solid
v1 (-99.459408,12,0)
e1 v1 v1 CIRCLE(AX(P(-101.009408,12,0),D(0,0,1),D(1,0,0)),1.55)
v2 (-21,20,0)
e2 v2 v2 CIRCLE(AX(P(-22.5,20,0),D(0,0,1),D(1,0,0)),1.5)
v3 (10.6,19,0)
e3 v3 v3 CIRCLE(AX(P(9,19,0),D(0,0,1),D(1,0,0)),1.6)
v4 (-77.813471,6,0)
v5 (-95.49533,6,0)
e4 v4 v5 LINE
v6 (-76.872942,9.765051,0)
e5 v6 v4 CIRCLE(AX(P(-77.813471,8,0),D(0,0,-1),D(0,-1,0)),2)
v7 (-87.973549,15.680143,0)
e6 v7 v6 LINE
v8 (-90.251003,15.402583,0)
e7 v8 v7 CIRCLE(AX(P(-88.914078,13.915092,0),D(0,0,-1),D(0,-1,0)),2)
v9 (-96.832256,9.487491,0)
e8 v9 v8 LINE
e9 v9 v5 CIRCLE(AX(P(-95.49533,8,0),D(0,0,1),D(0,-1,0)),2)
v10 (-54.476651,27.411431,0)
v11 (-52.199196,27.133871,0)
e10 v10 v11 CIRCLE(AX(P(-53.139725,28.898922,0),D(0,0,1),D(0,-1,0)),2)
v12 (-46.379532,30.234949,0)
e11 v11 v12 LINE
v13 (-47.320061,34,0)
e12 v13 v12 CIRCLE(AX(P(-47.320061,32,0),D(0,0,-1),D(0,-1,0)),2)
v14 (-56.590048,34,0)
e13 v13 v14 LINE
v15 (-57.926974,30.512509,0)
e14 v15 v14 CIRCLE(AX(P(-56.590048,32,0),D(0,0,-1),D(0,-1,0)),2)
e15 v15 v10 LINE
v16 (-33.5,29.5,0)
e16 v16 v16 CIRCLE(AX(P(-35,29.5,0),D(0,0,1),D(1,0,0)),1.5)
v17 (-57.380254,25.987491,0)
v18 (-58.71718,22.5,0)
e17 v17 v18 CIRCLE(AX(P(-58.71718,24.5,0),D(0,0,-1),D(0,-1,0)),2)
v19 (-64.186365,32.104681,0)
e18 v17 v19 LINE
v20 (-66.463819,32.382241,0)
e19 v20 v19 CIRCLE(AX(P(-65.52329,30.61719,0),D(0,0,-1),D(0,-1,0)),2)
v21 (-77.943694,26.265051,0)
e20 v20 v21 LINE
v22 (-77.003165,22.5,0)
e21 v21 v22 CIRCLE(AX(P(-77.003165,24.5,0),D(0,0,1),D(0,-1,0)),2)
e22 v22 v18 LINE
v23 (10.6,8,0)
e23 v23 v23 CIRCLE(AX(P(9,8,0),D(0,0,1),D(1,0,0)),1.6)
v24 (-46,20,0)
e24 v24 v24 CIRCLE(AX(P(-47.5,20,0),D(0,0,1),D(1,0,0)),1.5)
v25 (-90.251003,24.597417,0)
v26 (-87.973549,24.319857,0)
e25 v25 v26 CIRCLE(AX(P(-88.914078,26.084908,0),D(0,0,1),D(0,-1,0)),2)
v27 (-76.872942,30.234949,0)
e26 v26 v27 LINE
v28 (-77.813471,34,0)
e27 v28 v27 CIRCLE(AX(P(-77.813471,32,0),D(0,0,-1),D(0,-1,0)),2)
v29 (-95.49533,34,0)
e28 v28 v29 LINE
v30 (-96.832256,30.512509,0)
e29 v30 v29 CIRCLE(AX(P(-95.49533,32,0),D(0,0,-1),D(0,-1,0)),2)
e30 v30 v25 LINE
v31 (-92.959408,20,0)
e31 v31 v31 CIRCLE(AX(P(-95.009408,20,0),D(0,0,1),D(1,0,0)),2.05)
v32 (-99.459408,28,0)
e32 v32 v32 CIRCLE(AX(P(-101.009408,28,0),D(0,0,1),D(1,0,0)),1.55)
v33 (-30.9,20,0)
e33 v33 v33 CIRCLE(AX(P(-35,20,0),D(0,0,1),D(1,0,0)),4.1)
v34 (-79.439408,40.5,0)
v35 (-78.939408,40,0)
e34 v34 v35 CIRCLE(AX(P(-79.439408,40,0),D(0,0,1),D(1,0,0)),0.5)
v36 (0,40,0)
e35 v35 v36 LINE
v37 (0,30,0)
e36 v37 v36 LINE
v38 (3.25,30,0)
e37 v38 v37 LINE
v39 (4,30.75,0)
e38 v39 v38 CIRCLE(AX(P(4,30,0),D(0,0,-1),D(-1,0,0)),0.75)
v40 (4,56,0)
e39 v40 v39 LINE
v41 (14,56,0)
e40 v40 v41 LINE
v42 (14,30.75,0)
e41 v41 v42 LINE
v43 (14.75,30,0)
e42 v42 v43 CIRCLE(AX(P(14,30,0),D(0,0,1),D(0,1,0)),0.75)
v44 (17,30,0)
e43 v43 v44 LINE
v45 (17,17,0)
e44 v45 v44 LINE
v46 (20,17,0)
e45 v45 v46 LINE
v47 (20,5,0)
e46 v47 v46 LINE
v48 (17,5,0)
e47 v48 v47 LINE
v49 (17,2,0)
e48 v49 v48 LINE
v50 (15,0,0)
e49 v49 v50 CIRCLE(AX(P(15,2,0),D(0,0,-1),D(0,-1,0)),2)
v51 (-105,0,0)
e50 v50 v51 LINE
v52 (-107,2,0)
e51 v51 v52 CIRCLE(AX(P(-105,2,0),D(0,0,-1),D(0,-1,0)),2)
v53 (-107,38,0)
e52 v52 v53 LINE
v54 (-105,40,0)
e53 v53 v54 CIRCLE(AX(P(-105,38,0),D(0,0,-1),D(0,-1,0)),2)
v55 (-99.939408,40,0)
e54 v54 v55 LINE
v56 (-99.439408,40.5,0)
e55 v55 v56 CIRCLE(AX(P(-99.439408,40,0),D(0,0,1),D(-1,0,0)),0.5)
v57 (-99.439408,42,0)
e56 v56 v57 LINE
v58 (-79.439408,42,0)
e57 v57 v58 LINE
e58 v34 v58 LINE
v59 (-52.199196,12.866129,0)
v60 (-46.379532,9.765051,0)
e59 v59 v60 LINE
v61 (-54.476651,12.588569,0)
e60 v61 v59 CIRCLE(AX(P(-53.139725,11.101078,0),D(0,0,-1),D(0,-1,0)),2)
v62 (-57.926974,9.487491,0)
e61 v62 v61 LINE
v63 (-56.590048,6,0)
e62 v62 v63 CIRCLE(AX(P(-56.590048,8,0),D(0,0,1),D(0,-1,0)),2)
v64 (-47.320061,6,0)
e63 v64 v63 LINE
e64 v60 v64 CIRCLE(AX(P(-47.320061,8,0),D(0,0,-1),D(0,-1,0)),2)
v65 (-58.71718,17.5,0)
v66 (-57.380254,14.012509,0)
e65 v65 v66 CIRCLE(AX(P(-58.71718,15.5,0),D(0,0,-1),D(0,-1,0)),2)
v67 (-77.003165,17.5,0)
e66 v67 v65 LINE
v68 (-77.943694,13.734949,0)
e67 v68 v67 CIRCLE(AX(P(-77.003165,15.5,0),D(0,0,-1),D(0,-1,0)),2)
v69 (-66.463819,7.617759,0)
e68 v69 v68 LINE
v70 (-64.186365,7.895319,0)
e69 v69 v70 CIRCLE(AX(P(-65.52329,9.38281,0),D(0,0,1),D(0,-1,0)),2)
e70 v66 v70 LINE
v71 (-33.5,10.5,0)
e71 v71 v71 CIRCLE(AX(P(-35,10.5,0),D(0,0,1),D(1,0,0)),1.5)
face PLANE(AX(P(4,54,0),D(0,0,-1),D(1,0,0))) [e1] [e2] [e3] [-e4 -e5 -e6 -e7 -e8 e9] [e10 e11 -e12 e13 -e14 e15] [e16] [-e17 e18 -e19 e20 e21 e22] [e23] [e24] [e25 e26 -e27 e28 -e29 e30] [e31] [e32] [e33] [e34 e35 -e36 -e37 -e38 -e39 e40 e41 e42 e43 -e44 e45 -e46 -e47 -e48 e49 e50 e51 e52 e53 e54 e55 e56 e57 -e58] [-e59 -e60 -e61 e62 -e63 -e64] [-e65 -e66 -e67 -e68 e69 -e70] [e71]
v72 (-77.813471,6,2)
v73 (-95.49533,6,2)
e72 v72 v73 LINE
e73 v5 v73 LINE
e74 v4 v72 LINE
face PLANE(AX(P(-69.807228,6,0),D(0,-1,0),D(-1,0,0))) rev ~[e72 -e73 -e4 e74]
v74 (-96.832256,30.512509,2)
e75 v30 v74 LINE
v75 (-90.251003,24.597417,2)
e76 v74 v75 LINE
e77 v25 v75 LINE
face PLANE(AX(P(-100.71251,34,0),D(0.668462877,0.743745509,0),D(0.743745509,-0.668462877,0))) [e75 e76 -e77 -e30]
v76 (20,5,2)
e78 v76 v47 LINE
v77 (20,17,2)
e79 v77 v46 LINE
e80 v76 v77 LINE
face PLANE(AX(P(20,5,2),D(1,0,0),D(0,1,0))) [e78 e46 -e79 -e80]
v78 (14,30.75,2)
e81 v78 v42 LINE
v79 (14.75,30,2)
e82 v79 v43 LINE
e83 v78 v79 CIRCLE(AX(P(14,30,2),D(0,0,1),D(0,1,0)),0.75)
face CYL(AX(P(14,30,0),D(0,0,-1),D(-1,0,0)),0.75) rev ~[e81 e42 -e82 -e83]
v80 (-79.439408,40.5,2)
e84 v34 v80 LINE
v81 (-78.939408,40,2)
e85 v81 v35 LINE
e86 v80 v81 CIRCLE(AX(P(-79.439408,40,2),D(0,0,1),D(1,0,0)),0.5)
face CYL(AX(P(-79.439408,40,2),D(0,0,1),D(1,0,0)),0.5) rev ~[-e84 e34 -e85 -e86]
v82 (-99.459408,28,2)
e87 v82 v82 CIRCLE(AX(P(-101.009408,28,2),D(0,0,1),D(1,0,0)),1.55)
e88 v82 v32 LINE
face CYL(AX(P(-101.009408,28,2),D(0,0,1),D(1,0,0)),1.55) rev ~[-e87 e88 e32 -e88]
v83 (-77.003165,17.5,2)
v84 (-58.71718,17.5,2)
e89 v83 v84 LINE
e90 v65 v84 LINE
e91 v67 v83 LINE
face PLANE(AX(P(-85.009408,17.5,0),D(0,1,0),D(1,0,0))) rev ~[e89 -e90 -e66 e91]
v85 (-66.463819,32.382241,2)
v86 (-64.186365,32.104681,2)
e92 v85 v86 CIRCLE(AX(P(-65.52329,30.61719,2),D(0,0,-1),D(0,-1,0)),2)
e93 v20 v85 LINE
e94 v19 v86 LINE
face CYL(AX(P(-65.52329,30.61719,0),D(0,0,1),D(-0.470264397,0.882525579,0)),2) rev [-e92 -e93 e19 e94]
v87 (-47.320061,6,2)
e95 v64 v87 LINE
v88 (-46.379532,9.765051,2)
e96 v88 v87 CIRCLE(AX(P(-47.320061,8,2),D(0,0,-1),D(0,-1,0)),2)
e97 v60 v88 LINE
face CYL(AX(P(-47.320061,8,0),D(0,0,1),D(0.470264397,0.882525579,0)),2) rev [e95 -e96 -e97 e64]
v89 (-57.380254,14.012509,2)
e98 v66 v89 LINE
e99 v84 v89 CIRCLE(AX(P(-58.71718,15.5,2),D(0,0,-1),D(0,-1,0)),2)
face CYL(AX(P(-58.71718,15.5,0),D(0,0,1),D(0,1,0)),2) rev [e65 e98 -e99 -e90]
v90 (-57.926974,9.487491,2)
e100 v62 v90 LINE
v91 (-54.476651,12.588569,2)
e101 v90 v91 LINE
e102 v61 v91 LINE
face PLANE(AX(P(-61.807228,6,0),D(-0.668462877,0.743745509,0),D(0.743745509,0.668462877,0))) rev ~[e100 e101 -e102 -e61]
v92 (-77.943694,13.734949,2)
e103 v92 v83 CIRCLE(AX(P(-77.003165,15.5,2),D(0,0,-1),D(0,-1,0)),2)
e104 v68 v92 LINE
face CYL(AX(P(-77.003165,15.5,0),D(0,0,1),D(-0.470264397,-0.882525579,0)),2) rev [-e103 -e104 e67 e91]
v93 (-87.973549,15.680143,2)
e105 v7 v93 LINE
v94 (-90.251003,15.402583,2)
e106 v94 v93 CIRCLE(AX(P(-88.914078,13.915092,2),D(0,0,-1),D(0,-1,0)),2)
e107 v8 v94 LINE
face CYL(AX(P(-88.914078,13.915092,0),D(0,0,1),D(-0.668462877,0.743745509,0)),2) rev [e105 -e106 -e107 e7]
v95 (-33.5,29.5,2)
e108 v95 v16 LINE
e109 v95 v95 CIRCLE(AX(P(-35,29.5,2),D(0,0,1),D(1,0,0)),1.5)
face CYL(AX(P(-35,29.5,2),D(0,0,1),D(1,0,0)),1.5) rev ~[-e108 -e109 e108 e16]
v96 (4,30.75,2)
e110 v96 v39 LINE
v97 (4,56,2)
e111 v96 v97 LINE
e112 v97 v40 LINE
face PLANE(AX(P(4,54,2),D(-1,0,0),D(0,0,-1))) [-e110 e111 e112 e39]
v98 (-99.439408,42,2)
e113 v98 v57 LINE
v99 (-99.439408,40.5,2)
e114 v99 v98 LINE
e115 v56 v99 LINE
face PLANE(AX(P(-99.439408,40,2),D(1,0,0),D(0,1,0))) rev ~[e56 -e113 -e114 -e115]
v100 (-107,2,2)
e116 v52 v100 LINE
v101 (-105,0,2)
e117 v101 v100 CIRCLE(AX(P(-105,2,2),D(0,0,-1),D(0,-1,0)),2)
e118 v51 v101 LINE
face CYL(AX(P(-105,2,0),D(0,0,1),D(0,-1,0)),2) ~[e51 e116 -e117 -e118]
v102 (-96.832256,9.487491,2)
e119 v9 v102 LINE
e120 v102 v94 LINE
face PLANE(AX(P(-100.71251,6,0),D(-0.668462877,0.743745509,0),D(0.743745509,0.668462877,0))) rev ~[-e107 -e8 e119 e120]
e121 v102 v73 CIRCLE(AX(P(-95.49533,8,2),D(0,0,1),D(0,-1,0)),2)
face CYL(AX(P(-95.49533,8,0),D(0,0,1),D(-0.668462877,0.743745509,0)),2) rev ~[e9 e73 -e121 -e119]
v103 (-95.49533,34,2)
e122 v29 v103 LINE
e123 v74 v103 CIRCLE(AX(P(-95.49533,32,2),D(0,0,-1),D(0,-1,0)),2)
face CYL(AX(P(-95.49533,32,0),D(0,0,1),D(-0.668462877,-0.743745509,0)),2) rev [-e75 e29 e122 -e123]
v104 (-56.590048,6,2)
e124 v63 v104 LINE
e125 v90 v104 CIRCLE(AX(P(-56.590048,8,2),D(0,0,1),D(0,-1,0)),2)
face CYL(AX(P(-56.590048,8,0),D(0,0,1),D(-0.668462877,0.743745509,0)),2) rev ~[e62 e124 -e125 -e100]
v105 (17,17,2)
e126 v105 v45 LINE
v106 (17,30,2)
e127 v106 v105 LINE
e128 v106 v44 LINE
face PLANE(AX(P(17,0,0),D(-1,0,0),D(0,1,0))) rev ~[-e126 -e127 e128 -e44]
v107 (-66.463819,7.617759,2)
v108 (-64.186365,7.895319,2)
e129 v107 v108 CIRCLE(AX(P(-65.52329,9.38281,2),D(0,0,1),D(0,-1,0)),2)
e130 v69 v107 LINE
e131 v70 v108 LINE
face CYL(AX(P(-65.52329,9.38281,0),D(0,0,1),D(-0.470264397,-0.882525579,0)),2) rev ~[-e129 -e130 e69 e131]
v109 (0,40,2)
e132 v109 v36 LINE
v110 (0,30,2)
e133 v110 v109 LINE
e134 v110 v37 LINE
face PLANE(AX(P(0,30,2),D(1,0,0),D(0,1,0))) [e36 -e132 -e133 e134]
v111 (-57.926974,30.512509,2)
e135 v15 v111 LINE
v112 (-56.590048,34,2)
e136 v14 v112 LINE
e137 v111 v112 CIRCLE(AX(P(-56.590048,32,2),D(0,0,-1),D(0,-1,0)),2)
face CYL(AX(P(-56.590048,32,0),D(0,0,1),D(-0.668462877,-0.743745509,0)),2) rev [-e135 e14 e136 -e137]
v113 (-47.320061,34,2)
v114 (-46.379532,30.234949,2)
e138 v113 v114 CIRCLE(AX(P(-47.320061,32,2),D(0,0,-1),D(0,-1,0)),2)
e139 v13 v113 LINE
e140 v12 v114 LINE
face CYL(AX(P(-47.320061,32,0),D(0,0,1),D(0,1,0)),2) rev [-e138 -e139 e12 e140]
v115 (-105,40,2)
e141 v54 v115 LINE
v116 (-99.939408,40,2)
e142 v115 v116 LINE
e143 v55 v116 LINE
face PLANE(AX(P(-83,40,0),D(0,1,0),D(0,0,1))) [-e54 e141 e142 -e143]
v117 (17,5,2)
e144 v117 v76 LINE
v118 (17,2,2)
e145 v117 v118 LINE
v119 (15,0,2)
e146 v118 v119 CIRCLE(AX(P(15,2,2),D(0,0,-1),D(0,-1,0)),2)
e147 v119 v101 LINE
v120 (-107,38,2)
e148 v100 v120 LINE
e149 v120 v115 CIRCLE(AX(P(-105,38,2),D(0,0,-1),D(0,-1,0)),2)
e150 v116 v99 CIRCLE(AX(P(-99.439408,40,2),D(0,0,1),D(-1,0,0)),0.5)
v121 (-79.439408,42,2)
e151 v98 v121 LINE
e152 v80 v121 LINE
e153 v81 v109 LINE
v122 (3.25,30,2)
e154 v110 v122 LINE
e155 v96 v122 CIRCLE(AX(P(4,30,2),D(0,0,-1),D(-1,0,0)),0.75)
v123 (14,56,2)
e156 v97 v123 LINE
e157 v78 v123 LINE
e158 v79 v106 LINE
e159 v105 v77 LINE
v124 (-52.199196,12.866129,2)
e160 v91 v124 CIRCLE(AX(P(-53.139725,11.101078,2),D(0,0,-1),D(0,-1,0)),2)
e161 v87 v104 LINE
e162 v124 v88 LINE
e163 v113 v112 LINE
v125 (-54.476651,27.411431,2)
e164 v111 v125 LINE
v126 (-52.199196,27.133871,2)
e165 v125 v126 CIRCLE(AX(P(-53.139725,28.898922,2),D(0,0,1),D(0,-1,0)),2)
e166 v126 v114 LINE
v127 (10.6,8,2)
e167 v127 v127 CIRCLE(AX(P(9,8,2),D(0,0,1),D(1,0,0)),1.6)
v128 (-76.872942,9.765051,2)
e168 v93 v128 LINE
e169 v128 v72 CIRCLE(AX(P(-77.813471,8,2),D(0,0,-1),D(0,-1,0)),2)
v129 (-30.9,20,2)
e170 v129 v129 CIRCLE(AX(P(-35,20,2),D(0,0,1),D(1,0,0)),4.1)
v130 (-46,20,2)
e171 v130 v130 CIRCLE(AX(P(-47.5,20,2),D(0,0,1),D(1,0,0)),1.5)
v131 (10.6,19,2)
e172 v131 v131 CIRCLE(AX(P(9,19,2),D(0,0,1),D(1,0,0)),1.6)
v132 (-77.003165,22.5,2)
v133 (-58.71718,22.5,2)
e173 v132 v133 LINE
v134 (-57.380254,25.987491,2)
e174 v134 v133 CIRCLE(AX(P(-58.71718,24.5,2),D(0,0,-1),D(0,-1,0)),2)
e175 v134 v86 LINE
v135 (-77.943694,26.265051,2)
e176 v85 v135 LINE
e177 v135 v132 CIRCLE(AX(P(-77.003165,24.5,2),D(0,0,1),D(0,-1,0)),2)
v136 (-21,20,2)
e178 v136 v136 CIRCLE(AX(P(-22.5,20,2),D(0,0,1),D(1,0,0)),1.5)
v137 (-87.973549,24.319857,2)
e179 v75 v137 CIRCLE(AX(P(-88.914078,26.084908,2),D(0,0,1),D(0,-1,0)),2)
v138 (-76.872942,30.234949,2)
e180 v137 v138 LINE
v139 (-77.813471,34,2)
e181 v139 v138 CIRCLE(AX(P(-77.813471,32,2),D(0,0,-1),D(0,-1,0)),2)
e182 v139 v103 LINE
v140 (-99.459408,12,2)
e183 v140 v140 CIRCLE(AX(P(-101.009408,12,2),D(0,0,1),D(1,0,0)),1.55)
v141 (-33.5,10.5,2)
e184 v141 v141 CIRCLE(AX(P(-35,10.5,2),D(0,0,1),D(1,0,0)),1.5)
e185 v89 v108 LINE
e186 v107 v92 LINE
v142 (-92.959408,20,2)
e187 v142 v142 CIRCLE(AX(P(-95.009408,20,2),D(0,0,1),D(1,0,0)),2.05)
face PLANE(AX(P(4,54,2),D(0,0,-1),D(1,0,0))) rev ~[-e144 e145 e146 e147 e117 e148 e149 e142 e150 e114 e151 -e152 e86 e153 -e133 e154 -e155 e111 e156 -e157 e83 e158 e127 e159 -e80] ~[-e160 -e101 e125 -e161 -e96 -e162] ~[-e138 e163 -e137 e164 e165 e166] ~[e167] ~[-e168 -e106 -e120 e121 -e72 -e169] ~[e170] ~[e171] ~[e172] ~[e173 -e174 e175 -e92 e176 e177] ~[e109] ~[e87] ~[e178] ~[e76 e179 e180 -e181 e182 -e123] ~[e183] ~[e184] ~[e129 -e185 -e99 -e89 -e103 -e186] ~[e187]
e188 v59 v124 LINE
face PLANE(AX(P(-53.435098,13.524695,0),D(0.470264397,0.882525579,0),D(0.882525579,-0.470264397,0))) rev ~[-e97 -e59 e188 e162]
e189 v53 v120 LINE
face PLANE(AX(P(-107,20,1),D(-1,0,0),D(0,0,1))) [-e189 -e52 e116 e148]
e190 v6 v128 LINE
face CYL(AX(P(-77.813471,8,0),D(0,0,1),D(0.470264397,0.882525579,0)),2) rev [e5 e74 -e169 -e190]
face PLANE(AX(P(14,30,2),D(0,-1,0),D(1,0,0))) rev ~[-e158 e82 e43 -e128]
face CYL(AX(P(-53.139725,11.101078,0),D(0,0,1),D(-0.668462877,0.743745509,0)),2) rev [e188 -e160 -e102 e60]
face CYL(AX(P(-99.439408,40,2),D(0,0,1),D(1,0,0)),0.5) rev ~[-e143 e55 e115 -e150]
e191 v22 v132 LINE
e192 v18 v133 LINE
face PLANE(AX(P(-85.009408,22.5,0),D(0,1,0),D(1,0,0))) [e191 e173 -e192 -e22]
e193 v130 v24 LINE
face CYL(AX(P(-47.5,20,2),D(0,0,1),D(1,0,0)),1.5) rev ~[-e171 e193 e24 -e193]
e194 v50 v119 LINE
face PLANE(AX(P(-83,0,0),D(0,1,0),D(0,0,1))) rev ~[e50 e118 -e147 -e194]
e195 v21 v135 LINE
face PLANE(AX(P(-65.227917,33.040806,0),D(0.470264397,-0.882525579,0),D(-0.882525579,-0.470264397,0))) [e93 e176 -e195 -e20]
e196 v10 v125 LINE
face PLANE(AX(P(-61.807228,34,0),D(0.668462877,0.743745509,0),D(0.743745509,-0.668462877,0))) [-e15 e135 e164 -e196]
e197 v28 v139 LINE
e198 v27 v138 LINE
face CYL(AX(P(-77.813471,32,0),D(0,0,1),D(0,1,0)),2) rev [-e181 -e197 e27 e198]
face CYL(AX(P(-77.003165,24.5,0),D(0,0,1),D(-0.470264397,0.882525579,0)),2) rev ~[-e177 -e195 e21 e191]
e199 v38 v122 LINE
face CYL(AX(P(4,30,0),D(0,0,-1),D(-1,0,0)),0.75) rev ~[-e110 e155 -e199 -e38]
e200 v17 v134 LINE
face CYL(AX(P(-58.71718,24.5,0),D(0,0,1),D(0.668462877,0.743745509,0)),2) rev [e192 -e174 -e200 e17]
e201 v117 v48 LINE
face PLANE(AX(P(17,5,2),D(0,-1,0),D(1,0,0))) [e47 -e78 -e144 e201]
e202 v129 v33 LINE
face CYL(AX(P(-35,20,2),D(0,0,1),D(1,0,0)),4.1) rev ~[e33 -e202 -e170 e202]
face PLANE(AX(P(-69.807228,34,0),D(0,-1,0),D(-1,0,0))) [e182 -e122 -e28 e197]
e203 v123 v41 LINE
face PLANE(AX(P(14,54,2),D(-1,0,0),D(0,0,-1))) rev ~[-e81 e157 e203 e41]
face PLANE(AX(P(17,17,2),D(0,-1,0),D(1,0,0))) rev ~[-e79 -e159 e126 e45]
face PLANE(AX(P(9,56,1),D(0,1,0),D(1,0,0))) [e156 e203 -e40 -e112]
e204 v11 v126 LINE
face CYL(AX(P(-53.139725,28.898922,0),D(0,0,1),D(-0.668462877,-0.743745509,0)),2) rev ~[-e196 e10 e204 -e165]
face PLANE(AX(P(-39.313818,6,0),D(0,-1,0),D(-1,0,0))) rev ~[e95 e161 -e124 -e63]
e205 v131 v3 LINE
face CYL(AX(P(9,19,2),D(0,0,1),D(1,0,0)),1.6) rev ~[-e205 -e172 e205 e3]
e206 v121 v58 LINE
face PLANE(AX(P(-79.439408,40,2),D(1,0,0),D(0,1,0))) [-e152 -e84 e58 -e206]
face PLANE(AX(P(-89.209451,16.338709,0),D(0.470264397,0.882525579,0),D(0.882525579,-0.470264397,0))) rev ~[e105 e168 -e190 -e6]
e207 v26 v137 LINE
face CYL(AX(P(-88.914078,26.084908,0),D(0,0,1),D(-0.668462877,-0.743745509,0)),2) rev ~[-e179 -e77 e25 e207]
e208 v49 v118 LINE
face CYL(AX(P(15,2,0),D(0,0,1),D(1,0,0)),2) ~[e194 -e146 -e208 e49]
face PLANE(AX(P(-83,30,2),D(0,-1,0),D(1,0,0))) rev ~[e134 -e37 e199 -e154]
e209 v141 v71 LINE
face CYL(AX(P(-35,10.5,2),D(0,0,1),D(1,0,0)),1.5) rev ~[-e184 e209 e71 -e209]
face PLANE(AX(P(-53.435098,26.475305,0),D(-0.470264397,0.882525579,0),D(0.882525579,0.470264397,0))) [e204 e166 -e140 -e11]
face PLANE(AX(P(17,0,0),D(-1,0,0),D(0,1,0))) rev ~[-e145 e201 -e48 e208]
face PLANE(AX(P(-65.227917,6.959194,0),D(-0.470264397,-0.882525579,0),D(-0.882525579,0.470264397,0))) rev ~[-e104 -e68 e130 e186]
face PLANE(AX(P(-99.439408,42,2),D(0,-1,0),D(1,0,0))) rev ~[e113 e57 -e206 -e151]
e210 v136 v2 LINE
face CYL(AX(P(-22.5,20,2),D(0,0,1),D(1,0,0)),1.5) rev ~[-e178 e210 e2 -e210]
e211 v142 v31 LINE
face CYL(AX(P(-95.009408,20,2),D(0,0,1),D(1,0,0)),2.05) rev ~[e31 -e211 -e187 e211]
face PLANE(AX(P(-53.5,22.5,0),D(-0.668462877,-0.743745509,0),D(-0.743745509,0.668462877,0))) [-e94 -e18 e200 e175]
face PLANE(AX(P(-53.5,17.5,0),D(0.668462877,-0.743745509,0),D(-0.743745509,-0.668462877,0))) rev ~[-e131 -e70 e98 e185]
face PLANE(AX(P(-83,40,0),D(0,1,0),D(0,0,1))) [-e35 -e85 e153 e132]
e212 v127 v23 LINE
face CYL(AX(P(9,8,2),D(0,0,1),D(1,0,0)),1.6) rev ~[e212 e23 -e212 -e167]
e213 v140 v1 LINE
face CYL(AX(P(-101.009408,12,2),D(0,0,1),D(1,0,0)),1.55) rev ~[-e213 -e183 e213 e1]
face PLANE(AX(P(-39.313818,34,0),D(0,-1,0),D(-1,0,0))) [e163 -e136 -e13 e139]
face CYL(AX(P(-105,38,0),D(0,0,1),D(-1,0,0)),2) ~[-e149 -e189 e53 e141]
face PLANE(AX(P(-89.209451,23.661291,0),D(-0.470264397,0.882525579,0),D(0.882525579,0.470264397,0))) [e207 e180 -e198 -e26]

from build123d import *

# Parameters (mm, degrees)
EXTRUDE_1_DEPTH      = 2
SKETCH_2_R           = 1.6
CUT_EXTRUDE_1_DEPTH  = 3
SKETCH_3_W           = 3
SKETCH_3_H           = 24
SKETCH_3_W_2         = 4
CUT_EXTRUDE_2_DEPTH  = 3
SKETCH_4_W           = 3
SKETCH_4_H           = 12
CUT_EXTRUDE_3_DEPTH  = 3
SKETCH_5_W           = 83
SKETCH_5_H           = 30
EXTRUDE_2_DEPTH      = 2
SKETCH_6_R           = 4.1
CUT_EXTRUDE_4_DEPTH  = 3
SKETCH_7_W           = 83
SKETCH_7_H           = 10
EXTRUDE_4_DEPTH      = 2
SKETCH_8_R           = 1.5
CUT_EXTRUDE_5_DEPTH  = 10
SKETCH_13_W          = 2
SKETCH_13_H          = 40
EXTRUDE_6_DEPTH      = 24
SKETCH_16_R          = 0.75
CUT_EXTRUDE_9_DEPTH  = 3
SKETCH_17_W          = 10
SKETCH_17_H          = 2
EXTRUDE_8_DEPTH      = 2
SKETCH_18_W          = 20
SKETCH_18_H          = 2
EXTRUDE_9_DEPTH      = 2
SKETCH_19_R          = 1.55
SKETCH_19_R_2        = 2.05
CUT_EXTRUDE_10_DEPTH = 10
FILLET_1_R           = 2
CUT_EXTRUDE_11_DEPTH = 10
FILLET_2_R           = 2
SKETCH_22_W          = 3
SKETCH_22_H          = 12
EXTRUDE_10_DEPTH     = 2
SKETCH_23_R          = 0.5
CUT_EXTRUDE_12_DEPTH = 10


with BuildPart() as part:
    # 草图1 → 凸台-拉伸1 (new body)
    with BuildSketch(Plane.XY):
        Polygon((0, 0), (17, 0), (17, 5), (20, 5), (20, 17), (17, 17), (17, 54), (0, 54), align=None)
    extrude(amount=EXTRUDE_1_DEPTH)

    # 草图2 → 切除-拉伸1 (cut, through all)
    with BuildSketch(Plane.XY.offset(2)):
        with Locations((9, 8)):
            Circle(SKETCH_2_R)
        with Locations((9, 19)):
            Circle(SKETCH_2_R)
    extrude(amount=-CUT_EXTRUDE_1_DEPTH, mode=Mode.SUBTRACT)

    # 草图3 → 切除-拉伸2 (cut, through all)
    with BuildSketch(Plane.XY.offset(2)):
        with Locations((15.5, 42)):
            Rectangle(SKETCH_3_W, SKETCH_3_H)
        with Locations((2, 42)):
            Rectangle(SKETCH_3_W_2, SKETCH_3_H)
    extrude(amount=-CUT_EXTRUDE_2_DEPTH, mode=Mode.SUBTRACT)

    # 草图4 → 切除-拉伸3 (cut, through all)
    with BuildSketch(Plane.XY.offset(2)):
        with Locations((18.5, 11)):
            Rectangle(SKETCH_4_W, SKETCH_4_H)
    extrude(amount=-CUT_EXTRUDE_3_DEPTH, mode=Mode.SUBTRACT)

    # 草图5 → 凸台-拉伸2 (add, through all)
    with BuildSketch(Plane.XY.offset(2)):
        with Locations((-41.5, 15)):
            Rectangle(SKETCH_5_W, SKETCH_5_H)
    extrude(amount=-EXTRUDE_2_DEPTH)

    # 草图6 → 切除-拉伸4 (cut, through all)
    with BuildSketch(Plane.XY.offset(2)):
        with Locations((-35, 20)):
            Circle(SKETCH_6_R)
    extrude(amount=-CUT_EXTRUDE_4_DEPTH, mode=Mode.SUBTRACT)

    # 草图7 → 凸台-拉伸4 (add, through all)
    with BuildSketch(Plane.XY.offset(2)):
        with Locations((-41.5, 35)):
            Rectangle(SKETCH_7_W, SKETCH_7_H)
    extrude(amount=-EXTRUDE_4_DEPTH)

    # 草图8 → 切除-拉伸5 (cut)
    with BuildSketch(Plane.XY.offset(2)):
        with Locations((-35, 29.5)):
            Circle(SKETCH_8_R)
        with Locations((-35, 10.5)):
            Circle(SKETCH_8_R)
        with Locations((-47.5, 20)):
            Circle(SKETCH_8_R)
        with Locations((-22.5, 20)):
            Circle(SKETCH_8_R)
    extrude(amount=-CUT_EXTRUDE_5_DEPTH, mode=Mode.SUBTRACT)

    # 草图13 → 凸台-拉伸6 (add)
    with BuildSketch(Plane.ZY.offset(83)):
        with Locations((1, 20)):
            Rectangle(SKETCH_13_W, SKETCH_13_H)
    extrude(amount=EXTRUDE_6_DEPTH)

    # 草图16 → 切除-拉伸9 (cut)
    with BuildSketch(Plane(origin=(0, 0, 0), x_dir=(-1, 0, 0), z_dir=(0, 0, -1))):
        with Locations((-4, 30)):
            Circle(SKETCH_16_R)
        with Locations((-14, 30)):
            Circle(SKETCH_16_R)
    extrude(amount=-CUT_EXTRUDE_9_DEPTH, mode=Mode.SUBTRACT)

    # 草图17 → 凸台-拉伸8 (add)
    with BuildSketch(Plane(origin=(0, 54, 0), x_dir=(1, 0, 0), z_dir=(0, 1, 0))):
        with Locations((9, -1)):
            Rectangle(SKETCH_17_W, SKETCH_17_H)
    extrude(amount=EXTRUDE_8_DEPTH)

    # 草图18 → 凸台-拉伸9 (add)
    with BuildSketch(Plane.XY.offset(2)):
        with Locations((-89.439408026, 41)):
            Rectangle(SKETCH_18_W, SKETCH_18_H)
    extrude(amount=-EXTRUDE_9_DEPTH)

    # 草图19 → 切除-拉伸10 (cut)
    with BuildSketch(Plane.XY.offset(2)):
        with Locations((-101.009408026, 12)):
            Circle(SKETCH_19_R)
        with Locations((-101.009408026, 28)):
            Circle(SKETCH_19_R)
        with Locations((-95.009408026, 20)):
            Circle(SKETCH_19_R_2)
    extrude(amount=-CUT_EXTRUDE_10_DEPTH, mode=Mode.SUBTRACT)

    # 圆角1
    fillet_1_edges = [part.edges().sort_by_distance(p)[0] for p in [
        (-107, 0, 1),
        (-107, 40, 1),
        (17, 0, 1),
    ]]
    fillet(fillet_1_edges, radius=FILLET_1_R)

    # 草图21 → 切除-拉伸11 (cut)
    with BuildSketch(Plane(origin=(0, 0, 0), x_dir=(-1, 0, 0), z_dir=(0, 0, -1))):
        Polygon((100.712510242, 6), (89.209450959, 16.338708626), (69.80722773, 6), align=None)
        Polygon((65.227917011, 6.959193961), (85.009408026, 17.5), (53.5, 17.5), align=None)
        Polygon((61.80722773, 6), (53.43509819, 13.524694584), (39.313817735, 6), align=None)
        Polygon((53.43509819, 26.475305416), (39.313817735, 34), (61.80722773, 34), align=None)
        Polygon((85.009408026, 22.5), (53.5, 22.5), (65.227917011, 33.040806039), align=None)
        Polygon((89.209450959, 23.661291374), (69.80722773, 34), (100.712510242, 34), align=None)
    extrude(amount=-CUT_EXTRUDE_11_DEPTH, mode=Mode.SUBTRACT)

    # 圆角2
    fillet_2_edges = [part.edges().sort_by_distance(p)[0] for p in [
        (-61.80722773, 6, 1),
        (-39.313817735, 6, 1),
        (-53.43509819, 13.524694584, 1),
        (-65.227917011, 6.959193961, 1),
        (-53.5, 17.5, 1),
        (-85.009408026, 17.5, 1),
        (-65.227917011, 33.040806039, 1),
        (-85.009408026, 22.5, 1),
        (-53.5, 22.5, 1),
        (-61.80722773, 34, 1),
        (-53.43509819, 26.475305416, 1),
        (-39.313817735, 34, 1),
        (-100.712510242, 34, 1),
        (-89.209450959, 23.661291374, 1),
        (-69.80722773, 34, 1),
        (-100.712510242, 6, 1),
        (-69.80722773, 6, 1),
        (-89.209450959, 16.338708626, 1),
    ]]
    fillet(fillet_2_edges, radius=FILLET_2_R)

    # 草图22 → 凸台-拉伸10 (add)
    with BuildSketch(Plane.XY.offset(2)):
        with Locations((18.5, 11)):
            Rectangle(SKETCH_22_W, SKETCH_22_H)
    extrude(amount=-EXTRUDE_10_DEPTH)

    # 草图23 → 切除-拉伸12 (cut)
    with BuildSketch(Plane.XY.offset(2)):
        with Locations((-79.439408026, 40)):
            Circle(SKETCH_23_R)
        with Locations((-99.439408026, 40)):
            Circle(SKETCH_23_R)
    extrude(amount=-CUT_EXTRUDE_12_DEPTH, mode=Mode.SUBTRACT)


solid = part.part
